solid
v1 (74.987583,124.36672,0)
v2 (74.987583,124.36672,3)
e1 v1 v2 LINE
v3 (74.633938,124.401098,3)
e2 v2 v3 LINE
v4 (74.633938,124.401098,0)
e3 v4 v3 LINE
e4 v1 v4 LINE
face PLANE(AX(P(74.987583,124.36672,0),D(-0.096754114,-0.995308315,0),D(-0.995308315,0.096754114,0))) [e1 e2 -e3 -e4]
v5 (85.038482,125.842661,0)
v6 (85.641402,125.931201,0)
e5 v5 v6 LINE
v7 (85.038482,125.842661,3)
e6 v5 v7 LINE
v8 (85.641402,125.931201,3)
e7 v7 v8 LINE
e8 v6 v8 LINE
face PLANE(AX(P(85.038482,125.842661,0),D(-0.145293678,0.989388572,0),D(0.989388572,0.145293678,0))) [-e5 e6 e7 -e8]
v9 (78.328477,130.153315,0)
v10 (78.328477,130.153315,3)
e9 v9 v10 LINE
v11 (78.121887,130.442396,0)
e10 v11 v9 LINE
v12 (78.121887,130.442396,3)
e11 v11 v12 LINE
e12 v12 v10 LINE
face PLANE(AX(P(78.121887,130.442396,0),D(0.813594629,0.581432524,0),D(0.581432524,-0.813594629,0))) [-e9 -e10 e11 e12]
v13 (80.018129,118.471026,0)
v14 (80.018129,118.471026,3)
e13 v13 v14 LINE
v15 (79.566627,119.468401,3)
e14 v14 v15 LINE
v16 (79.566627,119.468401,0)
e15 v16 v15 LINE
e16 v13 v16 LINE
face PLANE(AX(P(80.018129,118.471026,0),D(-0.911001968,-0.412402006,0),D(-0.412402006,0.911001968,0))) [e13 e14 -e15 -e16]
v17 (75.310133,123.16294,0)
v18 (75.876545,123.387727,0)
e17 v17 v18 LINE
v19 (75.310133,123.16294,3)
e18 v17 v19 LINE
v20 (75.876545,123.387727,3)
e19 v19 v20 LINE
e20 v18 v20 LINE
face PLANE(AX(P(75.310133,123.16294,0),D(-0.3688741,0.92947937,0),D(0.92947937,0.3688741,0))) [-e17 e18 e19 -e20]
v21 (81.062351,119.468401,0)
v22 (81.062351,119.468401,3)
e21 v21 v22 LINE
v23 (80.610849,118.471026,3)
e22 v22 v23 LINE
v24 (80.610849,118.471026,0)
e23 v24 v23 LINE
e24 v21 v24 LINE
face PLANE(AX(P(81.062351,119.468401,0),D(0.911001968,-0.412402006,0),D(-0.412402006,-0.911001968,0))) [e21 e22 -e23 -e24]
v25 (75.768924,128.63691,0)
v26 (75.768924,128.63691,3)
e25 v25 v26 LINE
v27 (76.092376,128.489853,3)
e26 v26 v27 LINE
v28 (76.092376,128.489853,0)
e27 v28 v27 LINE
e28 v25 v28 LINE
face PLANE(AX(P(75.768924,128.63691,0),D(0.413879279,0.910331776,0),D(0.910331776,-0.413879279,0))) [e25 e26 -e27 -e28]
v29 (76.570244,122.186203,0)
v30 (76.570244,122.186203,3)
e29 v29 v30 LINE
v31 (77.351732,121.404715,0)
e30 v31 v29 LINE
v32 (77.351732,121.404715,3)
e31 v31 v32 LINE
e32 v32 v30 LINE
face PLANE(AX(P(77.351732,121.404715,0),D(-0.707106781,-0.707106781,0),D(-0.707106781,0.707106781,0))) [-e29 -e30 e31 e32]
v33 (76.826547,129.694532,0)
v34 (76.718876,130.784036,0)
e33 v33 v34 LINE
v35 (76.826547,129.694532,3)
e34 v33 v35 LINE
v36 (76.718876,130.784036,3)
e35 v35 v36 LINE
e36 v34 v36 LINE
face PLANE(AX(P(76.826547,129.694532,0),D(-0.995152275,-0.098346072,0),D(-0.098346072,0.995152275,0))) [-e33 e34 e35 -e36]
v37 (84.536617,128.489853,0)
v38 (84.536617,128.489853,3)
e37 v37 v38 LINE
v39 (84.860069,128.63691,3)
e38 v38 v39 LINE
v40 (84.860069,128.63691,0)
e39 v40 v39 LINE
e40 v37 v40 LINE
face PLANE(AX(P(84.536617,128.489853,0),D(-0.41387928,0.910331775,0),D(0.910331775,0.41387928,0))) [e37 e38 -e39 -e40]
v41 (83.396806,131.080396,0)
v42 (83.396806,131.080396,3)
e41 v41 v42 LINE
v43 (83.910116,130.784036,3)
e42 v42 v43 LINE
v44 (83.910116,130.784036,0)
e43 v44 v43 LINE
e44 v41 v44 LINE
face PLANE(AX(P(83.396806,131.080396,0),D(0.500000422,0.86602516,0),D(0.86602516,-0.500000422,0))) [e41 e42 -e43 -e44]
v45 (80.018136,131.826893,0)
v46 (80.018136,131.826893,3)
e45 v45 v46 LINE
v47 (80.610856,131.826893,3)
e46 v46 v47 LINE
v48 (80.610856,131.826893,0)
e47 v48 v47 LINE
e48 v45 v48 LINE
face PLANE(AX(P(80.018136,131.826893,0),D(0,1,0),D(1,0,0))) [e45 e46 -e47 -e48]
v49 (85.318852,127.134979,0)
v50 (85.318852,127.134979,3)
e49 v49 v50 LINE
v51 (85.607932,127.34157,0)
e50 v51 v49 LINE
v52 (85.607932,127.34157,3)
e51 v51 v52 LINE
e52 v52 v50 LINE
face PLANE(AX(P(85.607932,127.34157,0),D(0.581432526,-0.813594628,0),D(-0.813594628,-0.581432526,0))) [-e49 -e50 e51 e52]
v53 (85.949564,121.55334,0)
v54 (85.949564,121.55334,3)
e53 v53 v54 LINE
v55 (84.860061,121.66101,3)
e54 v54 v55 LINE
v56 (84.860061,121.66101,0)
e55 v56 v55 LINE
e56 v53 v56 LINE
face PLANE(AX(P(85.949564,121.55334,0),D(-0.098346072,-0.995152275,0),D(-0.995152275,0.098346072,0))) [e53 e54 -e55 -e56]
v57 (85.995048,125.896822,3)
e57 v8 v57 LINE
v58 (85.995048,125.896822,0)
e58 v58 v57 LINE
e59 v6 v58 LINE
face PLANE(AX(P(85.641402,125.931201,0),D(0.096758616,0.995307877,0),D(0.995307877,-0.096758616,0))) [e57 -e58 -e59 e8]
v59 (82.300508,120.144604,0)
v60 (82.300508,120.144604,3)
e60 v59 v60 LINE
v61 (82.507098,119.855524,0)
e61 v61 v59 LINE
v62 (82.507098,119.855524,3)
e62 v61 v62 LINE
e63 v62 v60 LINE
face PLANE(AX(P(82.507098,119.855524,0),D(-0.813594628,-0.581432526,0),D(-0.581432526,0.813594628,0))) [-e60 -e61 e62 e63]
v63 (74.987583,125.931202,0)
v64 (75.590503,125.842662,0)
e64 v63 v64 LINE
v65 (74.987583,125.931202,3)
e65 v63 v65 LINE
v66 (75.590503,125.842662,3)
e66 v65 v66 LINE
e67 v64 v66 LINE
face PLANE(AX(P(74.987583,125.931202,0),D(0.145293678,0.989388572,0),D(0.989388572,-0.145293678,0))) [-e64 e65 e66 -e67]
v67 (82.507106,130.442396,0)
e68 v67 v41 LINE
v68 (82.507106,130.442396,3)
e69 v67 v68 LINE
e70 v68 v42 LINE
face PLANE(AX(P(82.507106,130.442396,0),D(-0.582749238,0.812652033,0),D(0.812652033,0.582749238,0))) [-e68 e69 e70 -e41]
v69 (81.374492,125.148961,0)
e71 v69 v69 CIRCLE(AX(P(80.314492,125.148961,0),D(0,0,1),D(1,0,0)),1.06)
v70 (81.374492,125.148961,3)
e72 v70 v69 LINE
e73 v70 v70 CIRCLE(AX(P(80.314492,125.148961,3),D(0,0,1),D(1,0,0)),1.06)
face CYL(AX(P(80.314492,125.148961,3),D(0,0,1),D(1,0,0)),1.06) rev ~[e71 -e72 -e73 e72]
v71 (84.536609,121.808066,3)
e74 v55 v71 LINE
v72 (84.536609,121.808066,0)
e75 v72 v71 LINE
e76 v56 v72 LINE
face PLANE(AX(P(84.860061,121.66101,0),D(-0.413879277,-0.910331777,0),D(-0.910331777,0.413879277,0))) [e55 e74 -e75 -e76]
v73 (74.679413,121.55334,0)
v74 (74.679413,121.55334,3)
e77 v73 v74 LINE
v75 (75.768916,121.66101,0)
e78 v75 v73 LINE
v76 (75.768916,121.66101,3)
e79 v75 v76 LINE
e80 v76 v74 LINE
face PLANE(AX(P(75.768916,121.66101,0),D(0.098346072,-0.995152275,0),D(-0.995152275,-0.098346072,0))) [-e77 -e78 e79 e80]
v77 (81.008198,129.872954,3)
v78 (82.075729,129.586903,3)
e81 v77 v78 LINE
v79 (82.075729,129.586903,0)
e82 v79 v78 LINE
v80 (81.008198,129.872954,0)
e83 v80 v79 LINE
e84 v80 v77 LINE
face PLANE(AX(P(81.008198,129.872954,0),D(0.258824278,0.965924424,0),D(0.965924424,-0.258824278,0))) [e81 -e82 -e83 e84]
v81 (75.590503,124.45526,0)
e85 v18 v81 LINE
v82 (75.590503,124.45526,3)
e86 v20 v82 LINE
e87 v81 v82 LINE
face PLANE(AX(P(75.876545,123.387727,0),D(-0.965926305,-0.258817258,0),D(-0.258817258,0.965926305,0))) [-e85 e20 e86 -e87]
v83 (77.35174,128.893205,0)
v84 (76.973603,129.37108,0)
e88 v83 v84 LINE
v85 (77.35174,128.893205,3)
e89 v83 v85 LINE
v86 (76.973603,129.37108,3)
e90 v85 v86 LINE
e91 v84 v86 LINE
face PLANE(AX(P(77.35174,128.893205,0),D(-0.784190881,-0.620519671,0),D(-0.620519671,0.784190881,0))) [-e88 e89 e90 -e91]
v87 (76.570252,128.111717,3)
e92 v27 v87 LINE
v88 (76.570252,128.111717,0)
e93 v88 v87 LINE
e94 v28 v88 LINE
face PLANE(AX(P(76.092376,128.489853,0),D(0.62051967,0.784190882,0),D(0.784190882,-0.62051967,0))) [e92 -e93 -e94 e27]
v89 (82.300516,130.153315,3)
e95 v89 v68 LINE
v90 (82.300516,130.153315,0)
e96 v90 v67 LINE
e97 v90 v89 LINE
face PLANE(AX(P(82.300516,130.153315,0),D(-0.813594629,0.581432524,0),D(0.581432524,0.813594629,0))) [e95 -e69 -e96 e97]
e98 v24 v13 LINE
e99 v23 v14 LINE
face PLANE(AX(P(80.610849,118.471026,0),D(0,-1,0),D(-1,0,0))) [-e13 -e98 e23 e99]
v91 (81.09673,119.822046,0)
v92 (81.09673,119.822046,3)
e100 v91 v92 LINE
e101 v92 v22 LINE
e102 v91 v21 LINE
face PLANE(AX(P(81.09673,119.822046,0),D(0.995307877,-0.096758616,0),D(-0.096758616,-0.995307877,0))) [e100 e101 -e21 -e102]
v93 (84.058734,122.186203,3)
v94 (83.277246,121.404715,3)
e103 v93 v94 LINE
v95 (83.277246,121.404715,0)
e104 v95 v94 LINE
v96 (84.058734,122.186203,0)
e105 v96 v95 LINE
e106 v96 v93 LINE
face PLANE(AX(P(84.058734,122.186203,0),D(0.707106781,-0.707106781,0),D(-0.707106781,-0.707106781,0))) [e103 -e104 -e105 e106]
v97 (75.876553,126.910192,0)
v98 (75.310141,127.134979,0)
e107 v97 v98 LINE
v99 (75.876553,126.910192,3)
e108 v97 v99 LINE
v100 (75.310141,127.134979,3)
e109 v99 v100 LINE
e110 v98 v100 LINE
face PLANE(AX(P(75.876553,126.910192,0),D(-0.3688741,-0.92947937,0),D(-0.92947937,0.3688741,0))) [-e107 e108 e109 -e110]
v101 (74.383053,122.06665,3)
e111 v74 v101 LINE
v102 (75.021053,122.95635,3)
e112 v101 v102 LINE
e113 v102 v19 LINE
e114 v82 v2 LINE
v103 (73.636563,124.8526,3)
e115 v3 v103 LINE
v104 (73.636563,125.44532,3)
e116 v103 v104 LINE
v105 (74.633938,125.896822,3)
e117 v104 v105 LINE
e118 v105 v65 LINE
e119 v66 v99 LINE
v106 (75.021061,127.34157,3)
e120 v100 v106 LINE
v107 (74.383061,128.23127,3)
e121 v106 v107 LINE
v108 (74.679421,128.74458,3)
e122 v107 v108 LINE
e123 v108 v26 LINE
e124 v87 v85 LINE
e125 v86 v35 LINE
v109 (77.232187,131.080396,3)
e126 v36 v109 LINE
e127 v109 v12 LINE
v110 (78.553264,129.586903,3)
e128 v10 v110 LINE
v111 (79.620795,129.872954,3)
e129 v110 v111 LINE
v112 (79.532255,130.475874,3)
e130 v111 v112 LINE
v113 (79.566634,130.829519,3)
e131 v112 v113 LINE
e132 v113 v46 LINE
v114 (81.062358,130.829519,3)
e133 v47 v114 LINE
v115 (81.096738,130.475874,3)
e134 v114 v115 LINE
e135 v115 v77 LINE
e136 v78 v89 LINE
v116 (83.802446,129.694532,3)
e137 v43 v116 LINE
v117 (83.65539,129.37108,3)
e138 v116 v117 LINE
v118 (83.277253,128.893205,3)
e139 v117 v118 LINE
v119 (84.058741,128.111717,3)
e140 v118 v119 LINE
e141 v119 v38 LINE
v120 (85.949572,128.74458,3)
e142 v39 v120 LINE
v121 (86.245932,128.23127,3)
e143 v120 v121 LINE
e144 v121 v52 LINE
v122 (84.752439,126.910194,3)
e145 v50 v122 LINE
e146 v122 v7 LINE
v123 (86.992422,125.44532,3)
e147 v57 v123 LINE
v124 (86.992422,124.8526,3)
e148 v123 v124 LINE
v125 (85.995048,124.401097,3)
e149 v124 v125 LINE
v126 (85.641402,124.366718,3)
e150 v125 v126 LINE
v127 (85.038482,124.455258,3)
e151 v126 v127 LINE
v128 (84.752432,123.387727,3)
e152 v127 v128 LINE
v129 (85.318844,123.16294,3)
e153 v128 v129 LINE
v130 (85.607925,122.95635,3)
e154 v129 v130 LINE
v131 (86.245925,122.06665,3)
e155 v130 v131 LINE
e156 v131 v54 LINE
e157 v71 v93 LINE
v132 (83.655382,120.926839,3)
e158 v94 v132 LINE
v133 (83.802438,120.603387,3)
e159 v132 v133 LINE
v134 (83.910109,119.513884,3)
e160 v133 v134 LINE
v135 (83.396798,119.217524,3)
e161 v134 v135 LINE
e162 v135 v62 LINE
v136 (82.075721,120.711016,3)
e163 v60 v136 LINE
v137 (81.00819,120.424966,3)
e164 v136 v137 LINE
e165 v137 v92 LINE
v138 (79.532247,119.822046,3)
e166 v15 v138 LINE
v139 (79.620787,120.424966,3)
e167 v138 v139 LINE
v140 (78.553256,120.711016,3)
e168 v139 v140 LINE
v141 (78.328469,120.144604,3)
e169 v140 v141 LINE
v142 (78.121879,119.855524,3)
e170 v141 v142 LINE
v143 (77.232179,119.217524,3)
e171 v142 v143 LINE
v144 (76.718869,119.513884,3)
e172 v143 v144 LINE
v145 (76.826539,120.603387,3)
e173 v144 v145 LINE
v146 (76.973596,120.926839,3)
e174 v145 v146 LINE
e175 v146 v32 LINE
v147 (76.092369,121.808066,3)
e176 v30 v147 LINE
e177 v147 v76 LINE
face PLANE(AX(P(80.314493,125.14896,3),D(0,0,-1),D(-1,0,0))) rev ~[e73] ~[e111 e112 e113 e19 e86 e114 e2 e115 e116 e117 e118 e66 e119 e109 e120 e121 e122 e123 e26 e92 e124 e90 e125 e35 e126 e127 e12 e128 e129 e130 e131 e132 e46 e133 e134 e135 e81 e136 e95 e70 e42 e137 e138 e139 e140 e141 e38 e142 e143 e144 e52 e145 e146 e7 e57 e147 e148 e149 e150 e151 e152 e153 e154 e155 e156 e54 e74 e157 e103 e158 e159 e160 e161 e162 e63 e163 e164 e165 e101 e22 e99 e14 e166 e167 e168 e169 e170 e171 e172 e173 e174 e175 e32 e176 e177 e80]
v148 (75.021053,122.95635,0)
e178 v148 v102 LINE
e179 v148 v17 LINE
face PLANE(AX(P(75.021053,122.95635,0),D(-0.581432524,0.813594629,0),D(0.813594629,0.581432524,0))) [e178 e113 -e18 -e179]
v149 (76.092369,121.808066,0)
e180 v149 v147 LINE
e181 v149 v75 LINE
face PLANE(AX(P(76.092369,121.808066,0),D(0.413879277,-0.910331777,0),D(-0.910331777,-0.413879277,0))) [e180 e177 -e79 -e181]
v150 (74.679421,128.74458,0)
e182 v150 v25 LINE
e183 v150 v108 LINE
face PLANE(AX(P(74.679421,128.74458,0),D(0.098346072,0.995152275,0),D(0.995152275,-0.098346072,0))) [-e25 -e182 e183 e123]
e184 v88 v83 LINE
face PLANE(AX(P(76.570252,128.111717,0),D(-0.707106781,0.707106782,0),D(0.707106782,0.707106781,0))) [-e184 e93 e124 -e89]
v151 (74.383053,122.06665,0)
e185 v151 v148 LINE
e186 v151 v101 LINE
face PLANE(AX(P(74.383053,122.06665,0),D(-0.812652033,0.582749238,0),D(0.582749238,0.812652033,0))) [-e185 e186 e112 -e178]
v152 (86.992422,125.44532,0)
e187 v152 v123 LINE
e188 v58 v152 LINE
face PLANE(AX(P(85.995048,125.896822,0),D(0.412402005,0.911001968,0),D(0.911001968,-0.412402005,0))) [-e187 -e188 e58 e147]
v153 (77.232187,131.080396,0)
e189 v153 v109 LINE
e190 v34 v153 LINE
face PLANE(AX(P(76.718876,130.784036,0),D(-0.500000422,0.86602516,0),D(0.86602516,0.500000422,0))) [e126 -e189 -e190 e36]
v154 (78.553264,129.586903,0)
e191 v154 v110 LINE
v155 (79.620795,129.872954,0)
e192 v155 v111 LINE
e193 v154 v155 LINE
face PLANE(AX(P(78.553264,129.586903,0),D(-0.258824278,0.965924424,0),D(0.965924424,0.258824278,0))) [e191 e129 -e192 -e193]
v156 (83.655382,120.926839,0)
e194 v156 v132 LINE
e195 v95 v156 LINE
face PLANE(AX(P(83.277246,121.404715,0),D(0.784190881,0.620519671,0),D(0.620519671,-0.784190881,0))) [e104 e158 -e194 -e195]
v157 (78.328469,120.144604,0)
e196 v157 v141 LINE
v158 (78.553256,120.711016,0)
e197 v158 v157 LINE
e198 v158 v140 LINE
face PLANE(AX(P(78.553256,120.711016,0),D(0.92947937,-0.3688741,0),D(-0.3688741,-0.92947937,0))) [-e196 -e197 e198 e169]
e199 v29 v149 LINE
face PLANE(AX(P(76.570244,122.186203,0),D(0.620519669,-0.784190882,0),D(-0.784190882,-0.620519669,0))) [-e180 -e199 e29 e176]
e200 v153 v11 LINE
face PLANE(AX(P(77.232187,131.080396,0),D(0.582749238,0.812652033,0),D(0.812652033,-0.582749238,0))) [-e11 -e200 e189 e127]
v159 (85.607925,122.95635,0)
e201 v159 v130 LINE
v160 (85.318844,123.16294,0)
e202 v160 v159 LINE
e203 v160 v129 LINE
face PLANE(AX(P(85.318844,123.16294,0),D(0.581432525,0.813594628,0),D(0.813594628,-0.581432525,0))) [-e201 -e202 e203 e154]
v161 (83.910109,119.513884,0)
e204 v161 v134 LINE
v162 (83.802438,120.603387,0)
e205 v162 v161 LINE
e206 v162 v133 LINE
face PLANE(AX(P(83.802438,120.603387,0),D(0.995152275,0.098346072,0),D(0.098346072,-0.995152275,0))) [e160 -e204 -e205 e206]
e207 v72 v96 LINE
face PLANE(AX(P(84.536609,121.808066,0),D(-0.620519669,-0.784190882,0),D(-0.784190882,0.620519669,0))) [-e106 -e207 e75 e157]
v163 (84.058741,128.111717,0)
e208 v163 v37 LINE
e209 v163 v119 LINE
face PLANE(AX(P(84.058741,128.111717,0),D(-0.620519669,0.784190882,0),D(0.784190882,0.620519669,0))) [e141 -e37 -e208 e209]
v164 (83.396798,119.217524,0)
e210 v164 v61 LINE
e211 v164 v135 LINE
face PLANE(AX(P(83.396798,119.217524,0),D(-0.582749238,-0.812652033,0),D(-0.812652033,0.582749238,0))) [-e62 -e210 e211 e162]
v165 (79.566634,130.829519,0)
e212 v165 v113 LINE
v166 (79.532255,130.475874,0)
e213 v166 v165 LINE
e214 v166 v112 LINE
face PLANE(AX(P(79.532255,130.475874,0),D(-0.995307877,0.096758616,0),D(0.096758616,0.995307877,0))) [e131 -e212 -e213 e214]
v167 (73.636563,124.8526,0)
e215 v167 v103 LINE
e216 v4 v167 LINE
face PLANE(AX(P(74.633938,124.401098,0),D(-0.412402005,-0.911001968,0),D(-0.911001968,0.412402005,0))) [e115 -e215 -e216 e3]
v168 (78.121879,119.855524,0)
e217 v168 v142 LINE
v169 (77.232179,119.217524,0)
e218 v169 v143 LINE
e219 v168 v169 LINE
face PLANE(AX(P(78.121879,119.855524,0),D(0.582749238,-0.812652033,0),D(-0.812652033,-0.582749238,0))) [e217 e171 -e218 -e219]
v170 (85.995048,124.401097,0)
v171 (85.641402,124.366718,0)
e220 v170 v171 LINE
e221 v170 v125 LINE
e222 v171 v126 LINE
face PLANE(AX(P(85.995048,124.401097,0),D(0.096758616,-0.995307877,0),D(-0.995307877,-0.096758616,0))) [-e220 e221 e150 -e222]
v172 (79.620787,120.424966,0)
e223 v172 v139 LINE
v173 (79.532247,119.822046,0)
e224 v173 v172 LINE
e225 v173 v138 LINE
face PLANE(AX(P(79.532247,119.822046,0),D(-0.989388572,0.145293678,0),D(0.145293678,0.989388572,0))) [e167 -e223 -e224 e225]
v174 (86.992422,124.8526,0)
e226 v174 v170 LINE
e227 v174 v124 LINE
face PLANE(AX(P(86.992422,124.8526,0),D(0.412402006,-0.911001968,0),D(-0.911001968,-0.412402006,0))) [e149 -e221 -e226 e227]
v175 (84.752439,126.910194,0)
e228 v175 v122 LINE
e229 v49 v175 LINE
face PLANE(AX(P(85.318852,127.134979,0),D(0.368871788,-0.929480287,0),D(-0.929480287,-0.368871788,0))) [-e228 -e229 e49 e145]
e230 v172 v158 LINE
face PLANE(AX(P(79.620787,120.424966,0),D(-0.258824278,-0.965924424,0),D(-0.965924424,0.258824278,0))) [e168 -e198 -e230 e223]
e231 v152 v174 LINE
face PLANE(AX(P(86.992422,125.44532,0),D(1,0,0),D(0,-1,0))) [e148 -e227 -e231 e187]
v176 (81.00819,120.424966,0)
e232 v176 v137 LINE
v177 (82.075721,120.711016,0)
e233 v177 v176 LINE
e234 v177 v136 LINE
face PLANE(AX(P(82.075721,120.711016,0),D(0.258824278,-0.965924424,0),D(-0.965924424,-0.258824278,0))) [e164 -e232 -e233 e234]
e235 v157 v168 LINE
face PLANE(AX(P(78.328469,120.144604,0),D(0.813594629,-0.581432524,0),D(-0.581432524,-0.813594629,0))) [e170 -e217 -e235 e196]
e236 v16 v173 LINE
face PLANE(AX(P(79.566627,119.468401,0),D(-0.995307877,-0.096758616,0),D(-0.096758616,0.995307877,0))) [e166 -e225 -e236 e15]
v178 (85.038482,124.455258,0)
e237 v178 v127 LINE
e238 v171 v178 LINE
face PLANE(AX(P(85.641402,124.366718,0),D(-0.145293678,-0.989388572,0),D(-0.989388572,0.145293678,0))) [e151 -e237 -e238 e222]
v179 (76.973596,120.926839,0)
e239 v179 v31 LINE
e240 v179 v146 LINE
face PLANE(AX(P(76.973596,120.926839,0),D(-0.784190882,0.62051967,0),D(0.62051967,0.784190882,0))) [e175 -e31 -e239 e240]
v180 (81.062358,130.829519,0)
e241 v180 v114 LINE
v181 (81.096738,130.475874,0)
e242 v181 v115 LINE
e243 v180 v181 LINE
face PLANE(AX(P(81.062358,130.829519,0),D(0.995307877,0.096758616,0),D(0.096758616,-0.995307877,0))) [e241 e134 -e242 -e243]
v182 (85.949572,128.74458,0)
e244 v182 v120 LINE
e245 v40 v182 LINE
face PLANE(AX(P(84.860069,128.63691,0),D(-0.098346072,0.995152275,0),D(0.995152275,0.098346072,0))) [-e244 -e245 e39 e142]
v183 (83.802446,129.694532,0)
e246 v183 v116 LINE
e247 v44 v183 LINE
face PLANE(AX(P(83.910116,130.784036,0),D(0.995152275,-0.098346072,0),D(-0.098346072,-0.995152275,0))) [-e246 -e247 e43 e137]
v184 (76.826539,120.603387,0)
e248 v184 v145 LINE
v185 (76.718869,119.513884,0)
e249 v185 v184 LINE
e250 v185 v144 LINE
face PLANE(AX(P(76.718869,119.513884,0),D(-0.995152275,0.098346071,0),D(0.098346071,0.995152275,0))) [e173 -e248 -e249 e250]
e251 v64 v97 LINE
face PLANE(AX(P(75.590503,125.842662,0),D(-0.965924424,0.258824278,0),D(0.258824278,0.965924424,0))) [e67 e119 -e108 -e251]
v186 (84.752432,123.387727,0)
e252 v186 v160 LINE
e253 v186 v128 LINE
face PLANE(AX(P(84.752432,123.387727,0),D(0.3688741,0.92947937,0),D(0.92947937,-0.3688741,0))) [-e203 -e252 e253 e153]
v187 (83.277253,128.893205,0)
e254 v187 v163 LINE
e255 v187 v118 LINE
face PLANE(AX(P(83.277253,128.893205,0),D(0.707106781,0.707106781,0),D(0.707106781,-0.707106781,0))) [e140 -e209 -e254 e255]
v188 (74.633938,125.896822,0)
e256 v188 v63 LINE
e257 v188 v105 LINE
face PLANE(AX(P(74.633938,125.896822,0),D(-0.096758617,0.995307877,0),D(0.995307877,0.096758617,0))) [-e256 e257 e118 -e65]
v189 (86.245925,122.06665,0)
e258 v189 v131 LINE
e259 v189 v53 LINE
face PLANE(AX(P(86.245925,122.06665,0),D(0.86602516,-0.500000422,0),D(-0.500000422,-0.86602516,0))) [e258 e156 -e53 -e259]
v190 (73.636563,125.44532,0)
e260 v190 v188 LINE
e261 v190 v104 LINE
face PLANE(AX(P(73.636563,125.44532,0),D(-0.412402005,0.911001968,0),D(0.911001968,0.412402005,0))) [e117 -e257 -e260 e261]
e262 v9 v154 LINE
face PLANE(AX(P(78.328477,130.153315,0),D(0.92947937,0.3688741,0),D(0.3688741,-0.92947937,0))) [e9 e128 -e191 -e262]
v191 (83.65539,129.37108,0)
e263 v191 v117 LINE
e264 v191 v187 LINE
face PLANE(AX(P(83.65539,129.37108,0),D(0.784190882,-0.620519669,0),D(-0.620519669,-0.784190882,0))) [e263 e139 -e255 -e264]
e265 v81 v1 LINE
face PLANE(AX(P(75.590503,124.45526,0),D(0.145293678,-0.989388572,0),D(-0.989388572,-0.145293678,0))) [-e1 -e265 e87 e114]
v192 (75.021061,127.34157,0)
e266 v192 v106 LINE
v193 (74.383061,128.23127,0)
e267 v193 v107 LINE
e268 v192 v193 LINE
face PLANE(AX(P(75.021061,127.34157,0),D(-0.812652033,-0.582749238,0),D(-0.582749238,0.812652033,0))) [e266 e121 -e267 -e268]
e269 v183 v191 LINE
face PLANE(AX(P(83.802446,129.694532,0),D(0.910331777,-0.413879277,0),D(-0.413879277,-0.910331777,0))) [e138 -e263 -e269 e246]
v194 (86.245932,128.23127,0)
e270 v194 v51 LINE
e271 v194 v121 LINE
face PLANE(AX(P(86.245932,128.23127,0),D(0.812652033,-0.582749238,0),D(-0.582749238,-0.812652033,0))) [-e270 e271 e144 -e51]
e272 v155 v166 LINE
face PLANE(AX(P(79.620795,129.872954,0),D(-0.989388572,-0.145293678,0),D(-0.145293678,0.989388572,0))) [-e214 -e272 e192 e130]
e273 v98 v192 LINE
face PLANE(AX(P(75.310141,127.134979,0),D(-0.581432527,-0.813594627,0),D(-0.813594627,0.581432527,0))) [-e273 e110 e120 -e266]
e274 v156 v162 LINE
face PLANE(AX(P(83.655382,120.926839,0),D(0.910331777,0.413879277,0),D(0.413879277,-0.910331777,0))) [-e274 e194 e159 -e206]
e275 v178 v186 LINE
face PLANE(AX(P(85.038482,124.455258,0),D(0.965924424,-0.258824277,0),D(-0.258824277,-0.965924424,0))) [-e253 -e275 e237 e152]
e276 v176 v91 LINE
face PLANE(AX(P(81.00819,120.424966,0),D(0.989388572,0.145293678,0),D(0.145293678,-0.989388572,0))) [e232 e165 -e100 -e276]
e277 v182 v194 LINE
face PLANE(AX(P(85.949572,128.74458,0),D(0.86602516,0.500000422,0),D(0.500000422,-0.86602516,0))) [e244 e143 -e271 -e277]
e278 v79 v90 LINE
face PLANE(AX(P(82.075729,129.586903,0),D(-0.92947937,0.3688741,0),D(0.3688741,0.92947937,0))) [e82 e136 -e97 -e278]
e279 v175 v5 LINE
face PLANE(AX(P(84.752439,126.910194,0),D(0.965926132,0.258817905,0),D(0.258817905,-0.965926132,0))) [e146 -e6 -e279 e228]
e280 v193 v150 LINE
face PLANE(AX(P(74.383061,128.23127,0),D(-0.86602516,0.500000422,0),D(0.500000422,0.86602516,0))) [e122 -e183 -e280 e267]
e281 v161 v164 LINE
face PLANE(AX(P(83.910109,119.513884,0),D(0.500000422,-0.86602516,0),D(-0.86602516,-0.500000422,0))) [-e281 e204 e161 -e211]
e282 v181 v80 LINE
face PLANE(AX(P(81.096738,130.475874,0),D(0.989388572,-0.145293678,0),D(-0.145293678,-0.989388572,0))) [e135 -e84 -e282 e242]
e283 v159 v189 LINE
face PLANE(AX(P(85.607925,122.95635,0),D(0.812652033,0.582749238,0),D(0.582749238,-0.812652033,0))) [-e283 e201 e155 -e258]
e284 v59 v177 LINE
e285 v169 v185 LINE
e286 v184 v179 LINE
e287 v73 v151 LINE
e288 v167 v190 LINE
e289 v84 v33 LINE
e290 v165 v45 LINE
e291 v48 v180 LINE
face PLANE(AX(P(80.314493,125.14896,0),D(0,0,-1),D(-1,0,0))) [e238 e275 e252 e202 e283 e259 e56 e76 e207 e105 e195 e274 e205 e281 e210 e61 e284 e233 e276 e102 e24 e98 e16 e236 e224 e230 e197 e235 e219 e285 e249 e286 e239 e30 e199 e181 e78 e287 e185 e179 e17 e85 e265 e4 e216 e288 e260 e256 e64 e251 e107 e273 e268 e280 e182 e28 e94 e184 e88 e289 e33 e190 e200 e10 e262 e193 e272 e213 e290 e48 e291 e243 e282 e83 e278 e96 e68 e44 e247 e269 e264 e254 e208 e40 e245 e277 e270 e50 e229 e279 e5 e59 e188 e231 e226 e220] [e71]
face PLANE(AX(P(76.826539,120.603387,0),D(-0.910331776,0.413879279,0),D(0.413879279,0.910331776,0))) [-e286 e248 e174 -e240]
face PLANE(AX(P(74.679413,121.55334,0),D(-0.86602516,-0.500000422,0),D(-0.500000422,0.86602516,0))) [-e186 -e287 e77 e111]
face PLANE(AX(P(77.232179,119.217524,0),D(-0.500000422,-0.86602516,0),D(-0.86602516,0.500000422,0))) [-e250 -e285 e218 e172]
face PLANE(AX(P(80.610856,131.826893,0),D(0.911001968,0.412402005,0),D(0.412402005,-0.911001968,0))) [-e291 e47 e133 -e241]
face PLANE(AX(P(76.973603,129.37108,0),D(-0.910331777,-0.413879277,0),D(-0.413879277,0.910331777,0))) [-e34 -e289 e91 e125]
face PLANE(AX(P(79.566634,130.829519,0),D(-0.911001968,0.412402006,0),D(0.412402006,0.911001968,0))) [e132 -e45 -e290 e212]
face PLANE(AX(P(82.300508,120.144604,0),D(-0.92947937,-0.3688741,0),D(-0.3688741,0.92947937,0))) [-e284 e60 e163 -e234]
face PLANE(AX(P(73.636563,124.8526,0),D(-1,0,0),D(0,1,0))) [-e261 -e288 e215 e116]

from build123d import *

# Parameters (mm, degrees)
BOSS_EXTRUDE1_DEPTH = 3
SKETCH2_R           = 1.06
CUT_EXTRUDE1_DEPTH  = 3


with BuildPart() as part:
    # Model → Boss-Extrude1 (new body)
    with BuildSketch(Plane.XY):
        Polygon((85.038482334, 125.842661122), (85.641402334, 125.931201122), (85.995047634, 125.896821579), (86.992422179, 125.445319522), (86.992422179, 124.852599522), (85.995047634, 124.401097464), (85.641402334, 124.366717921), (85.038482334, 124.455257921), (84.752432117, 123.387727108), (85.31884426, 123.162940226), (85.607924576, 122.95635), (86.245924576, 122.06665), (85.949564326, 121.553339567), (84.86006114, 121.661009882), (84.536608908, 121.80806635), (84.058733602, 122.186202635), (83.277245674, 121.404714707), (83.65538196, 120.926839402), (83.802438428, 120.60338717), (83.910108743, 119.513883983), (83.39679831, 119.217523733), (82.50709831, 119.855523733), (82.300508083, 120.14460405), (82.075721201, 120.711016193), (81.008190388, 120.424965975), (81.096730388, 119.822045975), (81.062350845, 119.468400675), (80.610848788, 118.471026131), (80.018128788, 118.471026131), (79.566626731, 119.468400675), (79.532247188, 119.822045975), (79.620787188, 120.424965975), (78.553256375, 120.711016193), (78.328469493, 120.14460405), (78.121879267, 119.855523733), (77.232179267, 119.217523733), (76.718868834, 119.513883983), (76.826539148, 120.60338717), (76.973595617, 120.926839402), (77.351731902, 121.404714707), (76.570243974, 122.186202635), (76.092368668, 121.80806635), (75.768916436, 121.661009882), (74.67941325, 121.553339567), (74.383053, 122.06665), (75.021053, 122.95635), (75.310133317, 123.162940226), (75.87654546, 123.387727108), (75.590503, 124.45526), (74.987583, 124.36672), (74.633937545, 124.401097943), (73.636563, 124.8526), (73.636563, 125.44532), (74.633937545, 125.896822057), (74.987582844, 125.9312016), (75.590502844, 125.8426616), (75.876553062, 126.910192413), (75.310140919, 127.134979295), (75.021060603, 127.341569522), (74.383060603, 128.231269522), (74.679420853, 128.744579955), (75.768924039, 128.63690964), (76.092376271, 128.489853171), (76.570251576, 128.111716886), (77.351739505, 128.893204814), (76.973603219, 129.37108012), (76.826546751, 129.694532352), (76.718876436, 130.784035538), (77.232186869, 131.080395788), (78.121886869, 130.442395788), (78.328477095, 130.153315471), (78.553263977, 129.586903328), (79.62079479, 129.872953546), (79.53225479, 130.475873546), (79.566634333, 130.829518846), (80.018136391, 131.826893391), (80.610856391, 131.826893391), (81.062358448, 130.829518846), (81.096737991, 130.475873546), (81.008197991, 129.872953546), (82.075728804, 129.586903328), (82.300515686, 130.153315471), (82.507105912, 130.442395788), (83.396805912, 131.080395788), (83.910116345, 130.784035538), (83.80244603, 129.694532352), (83.655389562, 129.37108012), (83.277253277, 128.893204814), (84.058741205, 128.111716886), (84.536616511, 128.489853171), (84.860068742, 128.63690964), (85.949571929, 128.744579955), (86.245932179, 128.231269522), (85.607932179, 127.341569522), (85.318851862, 127.134979295), (84.75243916, 126.910193822), align=None)
    extrude(amount=BOSS_EXTRUDE1_DEPTH)

    # Sketch2 → Cut-Extrude1 (cut)
    with BuildSketch(Plane.XY.offset(3)):
        with Locations((80.314492489, 125.148960513)):
            Circle(SKETCH2_R)
    extrude(amount=-CUT_EXTRUDE1_DEPTH, mode=Mode.SUBTRACT)


solid = part.part
